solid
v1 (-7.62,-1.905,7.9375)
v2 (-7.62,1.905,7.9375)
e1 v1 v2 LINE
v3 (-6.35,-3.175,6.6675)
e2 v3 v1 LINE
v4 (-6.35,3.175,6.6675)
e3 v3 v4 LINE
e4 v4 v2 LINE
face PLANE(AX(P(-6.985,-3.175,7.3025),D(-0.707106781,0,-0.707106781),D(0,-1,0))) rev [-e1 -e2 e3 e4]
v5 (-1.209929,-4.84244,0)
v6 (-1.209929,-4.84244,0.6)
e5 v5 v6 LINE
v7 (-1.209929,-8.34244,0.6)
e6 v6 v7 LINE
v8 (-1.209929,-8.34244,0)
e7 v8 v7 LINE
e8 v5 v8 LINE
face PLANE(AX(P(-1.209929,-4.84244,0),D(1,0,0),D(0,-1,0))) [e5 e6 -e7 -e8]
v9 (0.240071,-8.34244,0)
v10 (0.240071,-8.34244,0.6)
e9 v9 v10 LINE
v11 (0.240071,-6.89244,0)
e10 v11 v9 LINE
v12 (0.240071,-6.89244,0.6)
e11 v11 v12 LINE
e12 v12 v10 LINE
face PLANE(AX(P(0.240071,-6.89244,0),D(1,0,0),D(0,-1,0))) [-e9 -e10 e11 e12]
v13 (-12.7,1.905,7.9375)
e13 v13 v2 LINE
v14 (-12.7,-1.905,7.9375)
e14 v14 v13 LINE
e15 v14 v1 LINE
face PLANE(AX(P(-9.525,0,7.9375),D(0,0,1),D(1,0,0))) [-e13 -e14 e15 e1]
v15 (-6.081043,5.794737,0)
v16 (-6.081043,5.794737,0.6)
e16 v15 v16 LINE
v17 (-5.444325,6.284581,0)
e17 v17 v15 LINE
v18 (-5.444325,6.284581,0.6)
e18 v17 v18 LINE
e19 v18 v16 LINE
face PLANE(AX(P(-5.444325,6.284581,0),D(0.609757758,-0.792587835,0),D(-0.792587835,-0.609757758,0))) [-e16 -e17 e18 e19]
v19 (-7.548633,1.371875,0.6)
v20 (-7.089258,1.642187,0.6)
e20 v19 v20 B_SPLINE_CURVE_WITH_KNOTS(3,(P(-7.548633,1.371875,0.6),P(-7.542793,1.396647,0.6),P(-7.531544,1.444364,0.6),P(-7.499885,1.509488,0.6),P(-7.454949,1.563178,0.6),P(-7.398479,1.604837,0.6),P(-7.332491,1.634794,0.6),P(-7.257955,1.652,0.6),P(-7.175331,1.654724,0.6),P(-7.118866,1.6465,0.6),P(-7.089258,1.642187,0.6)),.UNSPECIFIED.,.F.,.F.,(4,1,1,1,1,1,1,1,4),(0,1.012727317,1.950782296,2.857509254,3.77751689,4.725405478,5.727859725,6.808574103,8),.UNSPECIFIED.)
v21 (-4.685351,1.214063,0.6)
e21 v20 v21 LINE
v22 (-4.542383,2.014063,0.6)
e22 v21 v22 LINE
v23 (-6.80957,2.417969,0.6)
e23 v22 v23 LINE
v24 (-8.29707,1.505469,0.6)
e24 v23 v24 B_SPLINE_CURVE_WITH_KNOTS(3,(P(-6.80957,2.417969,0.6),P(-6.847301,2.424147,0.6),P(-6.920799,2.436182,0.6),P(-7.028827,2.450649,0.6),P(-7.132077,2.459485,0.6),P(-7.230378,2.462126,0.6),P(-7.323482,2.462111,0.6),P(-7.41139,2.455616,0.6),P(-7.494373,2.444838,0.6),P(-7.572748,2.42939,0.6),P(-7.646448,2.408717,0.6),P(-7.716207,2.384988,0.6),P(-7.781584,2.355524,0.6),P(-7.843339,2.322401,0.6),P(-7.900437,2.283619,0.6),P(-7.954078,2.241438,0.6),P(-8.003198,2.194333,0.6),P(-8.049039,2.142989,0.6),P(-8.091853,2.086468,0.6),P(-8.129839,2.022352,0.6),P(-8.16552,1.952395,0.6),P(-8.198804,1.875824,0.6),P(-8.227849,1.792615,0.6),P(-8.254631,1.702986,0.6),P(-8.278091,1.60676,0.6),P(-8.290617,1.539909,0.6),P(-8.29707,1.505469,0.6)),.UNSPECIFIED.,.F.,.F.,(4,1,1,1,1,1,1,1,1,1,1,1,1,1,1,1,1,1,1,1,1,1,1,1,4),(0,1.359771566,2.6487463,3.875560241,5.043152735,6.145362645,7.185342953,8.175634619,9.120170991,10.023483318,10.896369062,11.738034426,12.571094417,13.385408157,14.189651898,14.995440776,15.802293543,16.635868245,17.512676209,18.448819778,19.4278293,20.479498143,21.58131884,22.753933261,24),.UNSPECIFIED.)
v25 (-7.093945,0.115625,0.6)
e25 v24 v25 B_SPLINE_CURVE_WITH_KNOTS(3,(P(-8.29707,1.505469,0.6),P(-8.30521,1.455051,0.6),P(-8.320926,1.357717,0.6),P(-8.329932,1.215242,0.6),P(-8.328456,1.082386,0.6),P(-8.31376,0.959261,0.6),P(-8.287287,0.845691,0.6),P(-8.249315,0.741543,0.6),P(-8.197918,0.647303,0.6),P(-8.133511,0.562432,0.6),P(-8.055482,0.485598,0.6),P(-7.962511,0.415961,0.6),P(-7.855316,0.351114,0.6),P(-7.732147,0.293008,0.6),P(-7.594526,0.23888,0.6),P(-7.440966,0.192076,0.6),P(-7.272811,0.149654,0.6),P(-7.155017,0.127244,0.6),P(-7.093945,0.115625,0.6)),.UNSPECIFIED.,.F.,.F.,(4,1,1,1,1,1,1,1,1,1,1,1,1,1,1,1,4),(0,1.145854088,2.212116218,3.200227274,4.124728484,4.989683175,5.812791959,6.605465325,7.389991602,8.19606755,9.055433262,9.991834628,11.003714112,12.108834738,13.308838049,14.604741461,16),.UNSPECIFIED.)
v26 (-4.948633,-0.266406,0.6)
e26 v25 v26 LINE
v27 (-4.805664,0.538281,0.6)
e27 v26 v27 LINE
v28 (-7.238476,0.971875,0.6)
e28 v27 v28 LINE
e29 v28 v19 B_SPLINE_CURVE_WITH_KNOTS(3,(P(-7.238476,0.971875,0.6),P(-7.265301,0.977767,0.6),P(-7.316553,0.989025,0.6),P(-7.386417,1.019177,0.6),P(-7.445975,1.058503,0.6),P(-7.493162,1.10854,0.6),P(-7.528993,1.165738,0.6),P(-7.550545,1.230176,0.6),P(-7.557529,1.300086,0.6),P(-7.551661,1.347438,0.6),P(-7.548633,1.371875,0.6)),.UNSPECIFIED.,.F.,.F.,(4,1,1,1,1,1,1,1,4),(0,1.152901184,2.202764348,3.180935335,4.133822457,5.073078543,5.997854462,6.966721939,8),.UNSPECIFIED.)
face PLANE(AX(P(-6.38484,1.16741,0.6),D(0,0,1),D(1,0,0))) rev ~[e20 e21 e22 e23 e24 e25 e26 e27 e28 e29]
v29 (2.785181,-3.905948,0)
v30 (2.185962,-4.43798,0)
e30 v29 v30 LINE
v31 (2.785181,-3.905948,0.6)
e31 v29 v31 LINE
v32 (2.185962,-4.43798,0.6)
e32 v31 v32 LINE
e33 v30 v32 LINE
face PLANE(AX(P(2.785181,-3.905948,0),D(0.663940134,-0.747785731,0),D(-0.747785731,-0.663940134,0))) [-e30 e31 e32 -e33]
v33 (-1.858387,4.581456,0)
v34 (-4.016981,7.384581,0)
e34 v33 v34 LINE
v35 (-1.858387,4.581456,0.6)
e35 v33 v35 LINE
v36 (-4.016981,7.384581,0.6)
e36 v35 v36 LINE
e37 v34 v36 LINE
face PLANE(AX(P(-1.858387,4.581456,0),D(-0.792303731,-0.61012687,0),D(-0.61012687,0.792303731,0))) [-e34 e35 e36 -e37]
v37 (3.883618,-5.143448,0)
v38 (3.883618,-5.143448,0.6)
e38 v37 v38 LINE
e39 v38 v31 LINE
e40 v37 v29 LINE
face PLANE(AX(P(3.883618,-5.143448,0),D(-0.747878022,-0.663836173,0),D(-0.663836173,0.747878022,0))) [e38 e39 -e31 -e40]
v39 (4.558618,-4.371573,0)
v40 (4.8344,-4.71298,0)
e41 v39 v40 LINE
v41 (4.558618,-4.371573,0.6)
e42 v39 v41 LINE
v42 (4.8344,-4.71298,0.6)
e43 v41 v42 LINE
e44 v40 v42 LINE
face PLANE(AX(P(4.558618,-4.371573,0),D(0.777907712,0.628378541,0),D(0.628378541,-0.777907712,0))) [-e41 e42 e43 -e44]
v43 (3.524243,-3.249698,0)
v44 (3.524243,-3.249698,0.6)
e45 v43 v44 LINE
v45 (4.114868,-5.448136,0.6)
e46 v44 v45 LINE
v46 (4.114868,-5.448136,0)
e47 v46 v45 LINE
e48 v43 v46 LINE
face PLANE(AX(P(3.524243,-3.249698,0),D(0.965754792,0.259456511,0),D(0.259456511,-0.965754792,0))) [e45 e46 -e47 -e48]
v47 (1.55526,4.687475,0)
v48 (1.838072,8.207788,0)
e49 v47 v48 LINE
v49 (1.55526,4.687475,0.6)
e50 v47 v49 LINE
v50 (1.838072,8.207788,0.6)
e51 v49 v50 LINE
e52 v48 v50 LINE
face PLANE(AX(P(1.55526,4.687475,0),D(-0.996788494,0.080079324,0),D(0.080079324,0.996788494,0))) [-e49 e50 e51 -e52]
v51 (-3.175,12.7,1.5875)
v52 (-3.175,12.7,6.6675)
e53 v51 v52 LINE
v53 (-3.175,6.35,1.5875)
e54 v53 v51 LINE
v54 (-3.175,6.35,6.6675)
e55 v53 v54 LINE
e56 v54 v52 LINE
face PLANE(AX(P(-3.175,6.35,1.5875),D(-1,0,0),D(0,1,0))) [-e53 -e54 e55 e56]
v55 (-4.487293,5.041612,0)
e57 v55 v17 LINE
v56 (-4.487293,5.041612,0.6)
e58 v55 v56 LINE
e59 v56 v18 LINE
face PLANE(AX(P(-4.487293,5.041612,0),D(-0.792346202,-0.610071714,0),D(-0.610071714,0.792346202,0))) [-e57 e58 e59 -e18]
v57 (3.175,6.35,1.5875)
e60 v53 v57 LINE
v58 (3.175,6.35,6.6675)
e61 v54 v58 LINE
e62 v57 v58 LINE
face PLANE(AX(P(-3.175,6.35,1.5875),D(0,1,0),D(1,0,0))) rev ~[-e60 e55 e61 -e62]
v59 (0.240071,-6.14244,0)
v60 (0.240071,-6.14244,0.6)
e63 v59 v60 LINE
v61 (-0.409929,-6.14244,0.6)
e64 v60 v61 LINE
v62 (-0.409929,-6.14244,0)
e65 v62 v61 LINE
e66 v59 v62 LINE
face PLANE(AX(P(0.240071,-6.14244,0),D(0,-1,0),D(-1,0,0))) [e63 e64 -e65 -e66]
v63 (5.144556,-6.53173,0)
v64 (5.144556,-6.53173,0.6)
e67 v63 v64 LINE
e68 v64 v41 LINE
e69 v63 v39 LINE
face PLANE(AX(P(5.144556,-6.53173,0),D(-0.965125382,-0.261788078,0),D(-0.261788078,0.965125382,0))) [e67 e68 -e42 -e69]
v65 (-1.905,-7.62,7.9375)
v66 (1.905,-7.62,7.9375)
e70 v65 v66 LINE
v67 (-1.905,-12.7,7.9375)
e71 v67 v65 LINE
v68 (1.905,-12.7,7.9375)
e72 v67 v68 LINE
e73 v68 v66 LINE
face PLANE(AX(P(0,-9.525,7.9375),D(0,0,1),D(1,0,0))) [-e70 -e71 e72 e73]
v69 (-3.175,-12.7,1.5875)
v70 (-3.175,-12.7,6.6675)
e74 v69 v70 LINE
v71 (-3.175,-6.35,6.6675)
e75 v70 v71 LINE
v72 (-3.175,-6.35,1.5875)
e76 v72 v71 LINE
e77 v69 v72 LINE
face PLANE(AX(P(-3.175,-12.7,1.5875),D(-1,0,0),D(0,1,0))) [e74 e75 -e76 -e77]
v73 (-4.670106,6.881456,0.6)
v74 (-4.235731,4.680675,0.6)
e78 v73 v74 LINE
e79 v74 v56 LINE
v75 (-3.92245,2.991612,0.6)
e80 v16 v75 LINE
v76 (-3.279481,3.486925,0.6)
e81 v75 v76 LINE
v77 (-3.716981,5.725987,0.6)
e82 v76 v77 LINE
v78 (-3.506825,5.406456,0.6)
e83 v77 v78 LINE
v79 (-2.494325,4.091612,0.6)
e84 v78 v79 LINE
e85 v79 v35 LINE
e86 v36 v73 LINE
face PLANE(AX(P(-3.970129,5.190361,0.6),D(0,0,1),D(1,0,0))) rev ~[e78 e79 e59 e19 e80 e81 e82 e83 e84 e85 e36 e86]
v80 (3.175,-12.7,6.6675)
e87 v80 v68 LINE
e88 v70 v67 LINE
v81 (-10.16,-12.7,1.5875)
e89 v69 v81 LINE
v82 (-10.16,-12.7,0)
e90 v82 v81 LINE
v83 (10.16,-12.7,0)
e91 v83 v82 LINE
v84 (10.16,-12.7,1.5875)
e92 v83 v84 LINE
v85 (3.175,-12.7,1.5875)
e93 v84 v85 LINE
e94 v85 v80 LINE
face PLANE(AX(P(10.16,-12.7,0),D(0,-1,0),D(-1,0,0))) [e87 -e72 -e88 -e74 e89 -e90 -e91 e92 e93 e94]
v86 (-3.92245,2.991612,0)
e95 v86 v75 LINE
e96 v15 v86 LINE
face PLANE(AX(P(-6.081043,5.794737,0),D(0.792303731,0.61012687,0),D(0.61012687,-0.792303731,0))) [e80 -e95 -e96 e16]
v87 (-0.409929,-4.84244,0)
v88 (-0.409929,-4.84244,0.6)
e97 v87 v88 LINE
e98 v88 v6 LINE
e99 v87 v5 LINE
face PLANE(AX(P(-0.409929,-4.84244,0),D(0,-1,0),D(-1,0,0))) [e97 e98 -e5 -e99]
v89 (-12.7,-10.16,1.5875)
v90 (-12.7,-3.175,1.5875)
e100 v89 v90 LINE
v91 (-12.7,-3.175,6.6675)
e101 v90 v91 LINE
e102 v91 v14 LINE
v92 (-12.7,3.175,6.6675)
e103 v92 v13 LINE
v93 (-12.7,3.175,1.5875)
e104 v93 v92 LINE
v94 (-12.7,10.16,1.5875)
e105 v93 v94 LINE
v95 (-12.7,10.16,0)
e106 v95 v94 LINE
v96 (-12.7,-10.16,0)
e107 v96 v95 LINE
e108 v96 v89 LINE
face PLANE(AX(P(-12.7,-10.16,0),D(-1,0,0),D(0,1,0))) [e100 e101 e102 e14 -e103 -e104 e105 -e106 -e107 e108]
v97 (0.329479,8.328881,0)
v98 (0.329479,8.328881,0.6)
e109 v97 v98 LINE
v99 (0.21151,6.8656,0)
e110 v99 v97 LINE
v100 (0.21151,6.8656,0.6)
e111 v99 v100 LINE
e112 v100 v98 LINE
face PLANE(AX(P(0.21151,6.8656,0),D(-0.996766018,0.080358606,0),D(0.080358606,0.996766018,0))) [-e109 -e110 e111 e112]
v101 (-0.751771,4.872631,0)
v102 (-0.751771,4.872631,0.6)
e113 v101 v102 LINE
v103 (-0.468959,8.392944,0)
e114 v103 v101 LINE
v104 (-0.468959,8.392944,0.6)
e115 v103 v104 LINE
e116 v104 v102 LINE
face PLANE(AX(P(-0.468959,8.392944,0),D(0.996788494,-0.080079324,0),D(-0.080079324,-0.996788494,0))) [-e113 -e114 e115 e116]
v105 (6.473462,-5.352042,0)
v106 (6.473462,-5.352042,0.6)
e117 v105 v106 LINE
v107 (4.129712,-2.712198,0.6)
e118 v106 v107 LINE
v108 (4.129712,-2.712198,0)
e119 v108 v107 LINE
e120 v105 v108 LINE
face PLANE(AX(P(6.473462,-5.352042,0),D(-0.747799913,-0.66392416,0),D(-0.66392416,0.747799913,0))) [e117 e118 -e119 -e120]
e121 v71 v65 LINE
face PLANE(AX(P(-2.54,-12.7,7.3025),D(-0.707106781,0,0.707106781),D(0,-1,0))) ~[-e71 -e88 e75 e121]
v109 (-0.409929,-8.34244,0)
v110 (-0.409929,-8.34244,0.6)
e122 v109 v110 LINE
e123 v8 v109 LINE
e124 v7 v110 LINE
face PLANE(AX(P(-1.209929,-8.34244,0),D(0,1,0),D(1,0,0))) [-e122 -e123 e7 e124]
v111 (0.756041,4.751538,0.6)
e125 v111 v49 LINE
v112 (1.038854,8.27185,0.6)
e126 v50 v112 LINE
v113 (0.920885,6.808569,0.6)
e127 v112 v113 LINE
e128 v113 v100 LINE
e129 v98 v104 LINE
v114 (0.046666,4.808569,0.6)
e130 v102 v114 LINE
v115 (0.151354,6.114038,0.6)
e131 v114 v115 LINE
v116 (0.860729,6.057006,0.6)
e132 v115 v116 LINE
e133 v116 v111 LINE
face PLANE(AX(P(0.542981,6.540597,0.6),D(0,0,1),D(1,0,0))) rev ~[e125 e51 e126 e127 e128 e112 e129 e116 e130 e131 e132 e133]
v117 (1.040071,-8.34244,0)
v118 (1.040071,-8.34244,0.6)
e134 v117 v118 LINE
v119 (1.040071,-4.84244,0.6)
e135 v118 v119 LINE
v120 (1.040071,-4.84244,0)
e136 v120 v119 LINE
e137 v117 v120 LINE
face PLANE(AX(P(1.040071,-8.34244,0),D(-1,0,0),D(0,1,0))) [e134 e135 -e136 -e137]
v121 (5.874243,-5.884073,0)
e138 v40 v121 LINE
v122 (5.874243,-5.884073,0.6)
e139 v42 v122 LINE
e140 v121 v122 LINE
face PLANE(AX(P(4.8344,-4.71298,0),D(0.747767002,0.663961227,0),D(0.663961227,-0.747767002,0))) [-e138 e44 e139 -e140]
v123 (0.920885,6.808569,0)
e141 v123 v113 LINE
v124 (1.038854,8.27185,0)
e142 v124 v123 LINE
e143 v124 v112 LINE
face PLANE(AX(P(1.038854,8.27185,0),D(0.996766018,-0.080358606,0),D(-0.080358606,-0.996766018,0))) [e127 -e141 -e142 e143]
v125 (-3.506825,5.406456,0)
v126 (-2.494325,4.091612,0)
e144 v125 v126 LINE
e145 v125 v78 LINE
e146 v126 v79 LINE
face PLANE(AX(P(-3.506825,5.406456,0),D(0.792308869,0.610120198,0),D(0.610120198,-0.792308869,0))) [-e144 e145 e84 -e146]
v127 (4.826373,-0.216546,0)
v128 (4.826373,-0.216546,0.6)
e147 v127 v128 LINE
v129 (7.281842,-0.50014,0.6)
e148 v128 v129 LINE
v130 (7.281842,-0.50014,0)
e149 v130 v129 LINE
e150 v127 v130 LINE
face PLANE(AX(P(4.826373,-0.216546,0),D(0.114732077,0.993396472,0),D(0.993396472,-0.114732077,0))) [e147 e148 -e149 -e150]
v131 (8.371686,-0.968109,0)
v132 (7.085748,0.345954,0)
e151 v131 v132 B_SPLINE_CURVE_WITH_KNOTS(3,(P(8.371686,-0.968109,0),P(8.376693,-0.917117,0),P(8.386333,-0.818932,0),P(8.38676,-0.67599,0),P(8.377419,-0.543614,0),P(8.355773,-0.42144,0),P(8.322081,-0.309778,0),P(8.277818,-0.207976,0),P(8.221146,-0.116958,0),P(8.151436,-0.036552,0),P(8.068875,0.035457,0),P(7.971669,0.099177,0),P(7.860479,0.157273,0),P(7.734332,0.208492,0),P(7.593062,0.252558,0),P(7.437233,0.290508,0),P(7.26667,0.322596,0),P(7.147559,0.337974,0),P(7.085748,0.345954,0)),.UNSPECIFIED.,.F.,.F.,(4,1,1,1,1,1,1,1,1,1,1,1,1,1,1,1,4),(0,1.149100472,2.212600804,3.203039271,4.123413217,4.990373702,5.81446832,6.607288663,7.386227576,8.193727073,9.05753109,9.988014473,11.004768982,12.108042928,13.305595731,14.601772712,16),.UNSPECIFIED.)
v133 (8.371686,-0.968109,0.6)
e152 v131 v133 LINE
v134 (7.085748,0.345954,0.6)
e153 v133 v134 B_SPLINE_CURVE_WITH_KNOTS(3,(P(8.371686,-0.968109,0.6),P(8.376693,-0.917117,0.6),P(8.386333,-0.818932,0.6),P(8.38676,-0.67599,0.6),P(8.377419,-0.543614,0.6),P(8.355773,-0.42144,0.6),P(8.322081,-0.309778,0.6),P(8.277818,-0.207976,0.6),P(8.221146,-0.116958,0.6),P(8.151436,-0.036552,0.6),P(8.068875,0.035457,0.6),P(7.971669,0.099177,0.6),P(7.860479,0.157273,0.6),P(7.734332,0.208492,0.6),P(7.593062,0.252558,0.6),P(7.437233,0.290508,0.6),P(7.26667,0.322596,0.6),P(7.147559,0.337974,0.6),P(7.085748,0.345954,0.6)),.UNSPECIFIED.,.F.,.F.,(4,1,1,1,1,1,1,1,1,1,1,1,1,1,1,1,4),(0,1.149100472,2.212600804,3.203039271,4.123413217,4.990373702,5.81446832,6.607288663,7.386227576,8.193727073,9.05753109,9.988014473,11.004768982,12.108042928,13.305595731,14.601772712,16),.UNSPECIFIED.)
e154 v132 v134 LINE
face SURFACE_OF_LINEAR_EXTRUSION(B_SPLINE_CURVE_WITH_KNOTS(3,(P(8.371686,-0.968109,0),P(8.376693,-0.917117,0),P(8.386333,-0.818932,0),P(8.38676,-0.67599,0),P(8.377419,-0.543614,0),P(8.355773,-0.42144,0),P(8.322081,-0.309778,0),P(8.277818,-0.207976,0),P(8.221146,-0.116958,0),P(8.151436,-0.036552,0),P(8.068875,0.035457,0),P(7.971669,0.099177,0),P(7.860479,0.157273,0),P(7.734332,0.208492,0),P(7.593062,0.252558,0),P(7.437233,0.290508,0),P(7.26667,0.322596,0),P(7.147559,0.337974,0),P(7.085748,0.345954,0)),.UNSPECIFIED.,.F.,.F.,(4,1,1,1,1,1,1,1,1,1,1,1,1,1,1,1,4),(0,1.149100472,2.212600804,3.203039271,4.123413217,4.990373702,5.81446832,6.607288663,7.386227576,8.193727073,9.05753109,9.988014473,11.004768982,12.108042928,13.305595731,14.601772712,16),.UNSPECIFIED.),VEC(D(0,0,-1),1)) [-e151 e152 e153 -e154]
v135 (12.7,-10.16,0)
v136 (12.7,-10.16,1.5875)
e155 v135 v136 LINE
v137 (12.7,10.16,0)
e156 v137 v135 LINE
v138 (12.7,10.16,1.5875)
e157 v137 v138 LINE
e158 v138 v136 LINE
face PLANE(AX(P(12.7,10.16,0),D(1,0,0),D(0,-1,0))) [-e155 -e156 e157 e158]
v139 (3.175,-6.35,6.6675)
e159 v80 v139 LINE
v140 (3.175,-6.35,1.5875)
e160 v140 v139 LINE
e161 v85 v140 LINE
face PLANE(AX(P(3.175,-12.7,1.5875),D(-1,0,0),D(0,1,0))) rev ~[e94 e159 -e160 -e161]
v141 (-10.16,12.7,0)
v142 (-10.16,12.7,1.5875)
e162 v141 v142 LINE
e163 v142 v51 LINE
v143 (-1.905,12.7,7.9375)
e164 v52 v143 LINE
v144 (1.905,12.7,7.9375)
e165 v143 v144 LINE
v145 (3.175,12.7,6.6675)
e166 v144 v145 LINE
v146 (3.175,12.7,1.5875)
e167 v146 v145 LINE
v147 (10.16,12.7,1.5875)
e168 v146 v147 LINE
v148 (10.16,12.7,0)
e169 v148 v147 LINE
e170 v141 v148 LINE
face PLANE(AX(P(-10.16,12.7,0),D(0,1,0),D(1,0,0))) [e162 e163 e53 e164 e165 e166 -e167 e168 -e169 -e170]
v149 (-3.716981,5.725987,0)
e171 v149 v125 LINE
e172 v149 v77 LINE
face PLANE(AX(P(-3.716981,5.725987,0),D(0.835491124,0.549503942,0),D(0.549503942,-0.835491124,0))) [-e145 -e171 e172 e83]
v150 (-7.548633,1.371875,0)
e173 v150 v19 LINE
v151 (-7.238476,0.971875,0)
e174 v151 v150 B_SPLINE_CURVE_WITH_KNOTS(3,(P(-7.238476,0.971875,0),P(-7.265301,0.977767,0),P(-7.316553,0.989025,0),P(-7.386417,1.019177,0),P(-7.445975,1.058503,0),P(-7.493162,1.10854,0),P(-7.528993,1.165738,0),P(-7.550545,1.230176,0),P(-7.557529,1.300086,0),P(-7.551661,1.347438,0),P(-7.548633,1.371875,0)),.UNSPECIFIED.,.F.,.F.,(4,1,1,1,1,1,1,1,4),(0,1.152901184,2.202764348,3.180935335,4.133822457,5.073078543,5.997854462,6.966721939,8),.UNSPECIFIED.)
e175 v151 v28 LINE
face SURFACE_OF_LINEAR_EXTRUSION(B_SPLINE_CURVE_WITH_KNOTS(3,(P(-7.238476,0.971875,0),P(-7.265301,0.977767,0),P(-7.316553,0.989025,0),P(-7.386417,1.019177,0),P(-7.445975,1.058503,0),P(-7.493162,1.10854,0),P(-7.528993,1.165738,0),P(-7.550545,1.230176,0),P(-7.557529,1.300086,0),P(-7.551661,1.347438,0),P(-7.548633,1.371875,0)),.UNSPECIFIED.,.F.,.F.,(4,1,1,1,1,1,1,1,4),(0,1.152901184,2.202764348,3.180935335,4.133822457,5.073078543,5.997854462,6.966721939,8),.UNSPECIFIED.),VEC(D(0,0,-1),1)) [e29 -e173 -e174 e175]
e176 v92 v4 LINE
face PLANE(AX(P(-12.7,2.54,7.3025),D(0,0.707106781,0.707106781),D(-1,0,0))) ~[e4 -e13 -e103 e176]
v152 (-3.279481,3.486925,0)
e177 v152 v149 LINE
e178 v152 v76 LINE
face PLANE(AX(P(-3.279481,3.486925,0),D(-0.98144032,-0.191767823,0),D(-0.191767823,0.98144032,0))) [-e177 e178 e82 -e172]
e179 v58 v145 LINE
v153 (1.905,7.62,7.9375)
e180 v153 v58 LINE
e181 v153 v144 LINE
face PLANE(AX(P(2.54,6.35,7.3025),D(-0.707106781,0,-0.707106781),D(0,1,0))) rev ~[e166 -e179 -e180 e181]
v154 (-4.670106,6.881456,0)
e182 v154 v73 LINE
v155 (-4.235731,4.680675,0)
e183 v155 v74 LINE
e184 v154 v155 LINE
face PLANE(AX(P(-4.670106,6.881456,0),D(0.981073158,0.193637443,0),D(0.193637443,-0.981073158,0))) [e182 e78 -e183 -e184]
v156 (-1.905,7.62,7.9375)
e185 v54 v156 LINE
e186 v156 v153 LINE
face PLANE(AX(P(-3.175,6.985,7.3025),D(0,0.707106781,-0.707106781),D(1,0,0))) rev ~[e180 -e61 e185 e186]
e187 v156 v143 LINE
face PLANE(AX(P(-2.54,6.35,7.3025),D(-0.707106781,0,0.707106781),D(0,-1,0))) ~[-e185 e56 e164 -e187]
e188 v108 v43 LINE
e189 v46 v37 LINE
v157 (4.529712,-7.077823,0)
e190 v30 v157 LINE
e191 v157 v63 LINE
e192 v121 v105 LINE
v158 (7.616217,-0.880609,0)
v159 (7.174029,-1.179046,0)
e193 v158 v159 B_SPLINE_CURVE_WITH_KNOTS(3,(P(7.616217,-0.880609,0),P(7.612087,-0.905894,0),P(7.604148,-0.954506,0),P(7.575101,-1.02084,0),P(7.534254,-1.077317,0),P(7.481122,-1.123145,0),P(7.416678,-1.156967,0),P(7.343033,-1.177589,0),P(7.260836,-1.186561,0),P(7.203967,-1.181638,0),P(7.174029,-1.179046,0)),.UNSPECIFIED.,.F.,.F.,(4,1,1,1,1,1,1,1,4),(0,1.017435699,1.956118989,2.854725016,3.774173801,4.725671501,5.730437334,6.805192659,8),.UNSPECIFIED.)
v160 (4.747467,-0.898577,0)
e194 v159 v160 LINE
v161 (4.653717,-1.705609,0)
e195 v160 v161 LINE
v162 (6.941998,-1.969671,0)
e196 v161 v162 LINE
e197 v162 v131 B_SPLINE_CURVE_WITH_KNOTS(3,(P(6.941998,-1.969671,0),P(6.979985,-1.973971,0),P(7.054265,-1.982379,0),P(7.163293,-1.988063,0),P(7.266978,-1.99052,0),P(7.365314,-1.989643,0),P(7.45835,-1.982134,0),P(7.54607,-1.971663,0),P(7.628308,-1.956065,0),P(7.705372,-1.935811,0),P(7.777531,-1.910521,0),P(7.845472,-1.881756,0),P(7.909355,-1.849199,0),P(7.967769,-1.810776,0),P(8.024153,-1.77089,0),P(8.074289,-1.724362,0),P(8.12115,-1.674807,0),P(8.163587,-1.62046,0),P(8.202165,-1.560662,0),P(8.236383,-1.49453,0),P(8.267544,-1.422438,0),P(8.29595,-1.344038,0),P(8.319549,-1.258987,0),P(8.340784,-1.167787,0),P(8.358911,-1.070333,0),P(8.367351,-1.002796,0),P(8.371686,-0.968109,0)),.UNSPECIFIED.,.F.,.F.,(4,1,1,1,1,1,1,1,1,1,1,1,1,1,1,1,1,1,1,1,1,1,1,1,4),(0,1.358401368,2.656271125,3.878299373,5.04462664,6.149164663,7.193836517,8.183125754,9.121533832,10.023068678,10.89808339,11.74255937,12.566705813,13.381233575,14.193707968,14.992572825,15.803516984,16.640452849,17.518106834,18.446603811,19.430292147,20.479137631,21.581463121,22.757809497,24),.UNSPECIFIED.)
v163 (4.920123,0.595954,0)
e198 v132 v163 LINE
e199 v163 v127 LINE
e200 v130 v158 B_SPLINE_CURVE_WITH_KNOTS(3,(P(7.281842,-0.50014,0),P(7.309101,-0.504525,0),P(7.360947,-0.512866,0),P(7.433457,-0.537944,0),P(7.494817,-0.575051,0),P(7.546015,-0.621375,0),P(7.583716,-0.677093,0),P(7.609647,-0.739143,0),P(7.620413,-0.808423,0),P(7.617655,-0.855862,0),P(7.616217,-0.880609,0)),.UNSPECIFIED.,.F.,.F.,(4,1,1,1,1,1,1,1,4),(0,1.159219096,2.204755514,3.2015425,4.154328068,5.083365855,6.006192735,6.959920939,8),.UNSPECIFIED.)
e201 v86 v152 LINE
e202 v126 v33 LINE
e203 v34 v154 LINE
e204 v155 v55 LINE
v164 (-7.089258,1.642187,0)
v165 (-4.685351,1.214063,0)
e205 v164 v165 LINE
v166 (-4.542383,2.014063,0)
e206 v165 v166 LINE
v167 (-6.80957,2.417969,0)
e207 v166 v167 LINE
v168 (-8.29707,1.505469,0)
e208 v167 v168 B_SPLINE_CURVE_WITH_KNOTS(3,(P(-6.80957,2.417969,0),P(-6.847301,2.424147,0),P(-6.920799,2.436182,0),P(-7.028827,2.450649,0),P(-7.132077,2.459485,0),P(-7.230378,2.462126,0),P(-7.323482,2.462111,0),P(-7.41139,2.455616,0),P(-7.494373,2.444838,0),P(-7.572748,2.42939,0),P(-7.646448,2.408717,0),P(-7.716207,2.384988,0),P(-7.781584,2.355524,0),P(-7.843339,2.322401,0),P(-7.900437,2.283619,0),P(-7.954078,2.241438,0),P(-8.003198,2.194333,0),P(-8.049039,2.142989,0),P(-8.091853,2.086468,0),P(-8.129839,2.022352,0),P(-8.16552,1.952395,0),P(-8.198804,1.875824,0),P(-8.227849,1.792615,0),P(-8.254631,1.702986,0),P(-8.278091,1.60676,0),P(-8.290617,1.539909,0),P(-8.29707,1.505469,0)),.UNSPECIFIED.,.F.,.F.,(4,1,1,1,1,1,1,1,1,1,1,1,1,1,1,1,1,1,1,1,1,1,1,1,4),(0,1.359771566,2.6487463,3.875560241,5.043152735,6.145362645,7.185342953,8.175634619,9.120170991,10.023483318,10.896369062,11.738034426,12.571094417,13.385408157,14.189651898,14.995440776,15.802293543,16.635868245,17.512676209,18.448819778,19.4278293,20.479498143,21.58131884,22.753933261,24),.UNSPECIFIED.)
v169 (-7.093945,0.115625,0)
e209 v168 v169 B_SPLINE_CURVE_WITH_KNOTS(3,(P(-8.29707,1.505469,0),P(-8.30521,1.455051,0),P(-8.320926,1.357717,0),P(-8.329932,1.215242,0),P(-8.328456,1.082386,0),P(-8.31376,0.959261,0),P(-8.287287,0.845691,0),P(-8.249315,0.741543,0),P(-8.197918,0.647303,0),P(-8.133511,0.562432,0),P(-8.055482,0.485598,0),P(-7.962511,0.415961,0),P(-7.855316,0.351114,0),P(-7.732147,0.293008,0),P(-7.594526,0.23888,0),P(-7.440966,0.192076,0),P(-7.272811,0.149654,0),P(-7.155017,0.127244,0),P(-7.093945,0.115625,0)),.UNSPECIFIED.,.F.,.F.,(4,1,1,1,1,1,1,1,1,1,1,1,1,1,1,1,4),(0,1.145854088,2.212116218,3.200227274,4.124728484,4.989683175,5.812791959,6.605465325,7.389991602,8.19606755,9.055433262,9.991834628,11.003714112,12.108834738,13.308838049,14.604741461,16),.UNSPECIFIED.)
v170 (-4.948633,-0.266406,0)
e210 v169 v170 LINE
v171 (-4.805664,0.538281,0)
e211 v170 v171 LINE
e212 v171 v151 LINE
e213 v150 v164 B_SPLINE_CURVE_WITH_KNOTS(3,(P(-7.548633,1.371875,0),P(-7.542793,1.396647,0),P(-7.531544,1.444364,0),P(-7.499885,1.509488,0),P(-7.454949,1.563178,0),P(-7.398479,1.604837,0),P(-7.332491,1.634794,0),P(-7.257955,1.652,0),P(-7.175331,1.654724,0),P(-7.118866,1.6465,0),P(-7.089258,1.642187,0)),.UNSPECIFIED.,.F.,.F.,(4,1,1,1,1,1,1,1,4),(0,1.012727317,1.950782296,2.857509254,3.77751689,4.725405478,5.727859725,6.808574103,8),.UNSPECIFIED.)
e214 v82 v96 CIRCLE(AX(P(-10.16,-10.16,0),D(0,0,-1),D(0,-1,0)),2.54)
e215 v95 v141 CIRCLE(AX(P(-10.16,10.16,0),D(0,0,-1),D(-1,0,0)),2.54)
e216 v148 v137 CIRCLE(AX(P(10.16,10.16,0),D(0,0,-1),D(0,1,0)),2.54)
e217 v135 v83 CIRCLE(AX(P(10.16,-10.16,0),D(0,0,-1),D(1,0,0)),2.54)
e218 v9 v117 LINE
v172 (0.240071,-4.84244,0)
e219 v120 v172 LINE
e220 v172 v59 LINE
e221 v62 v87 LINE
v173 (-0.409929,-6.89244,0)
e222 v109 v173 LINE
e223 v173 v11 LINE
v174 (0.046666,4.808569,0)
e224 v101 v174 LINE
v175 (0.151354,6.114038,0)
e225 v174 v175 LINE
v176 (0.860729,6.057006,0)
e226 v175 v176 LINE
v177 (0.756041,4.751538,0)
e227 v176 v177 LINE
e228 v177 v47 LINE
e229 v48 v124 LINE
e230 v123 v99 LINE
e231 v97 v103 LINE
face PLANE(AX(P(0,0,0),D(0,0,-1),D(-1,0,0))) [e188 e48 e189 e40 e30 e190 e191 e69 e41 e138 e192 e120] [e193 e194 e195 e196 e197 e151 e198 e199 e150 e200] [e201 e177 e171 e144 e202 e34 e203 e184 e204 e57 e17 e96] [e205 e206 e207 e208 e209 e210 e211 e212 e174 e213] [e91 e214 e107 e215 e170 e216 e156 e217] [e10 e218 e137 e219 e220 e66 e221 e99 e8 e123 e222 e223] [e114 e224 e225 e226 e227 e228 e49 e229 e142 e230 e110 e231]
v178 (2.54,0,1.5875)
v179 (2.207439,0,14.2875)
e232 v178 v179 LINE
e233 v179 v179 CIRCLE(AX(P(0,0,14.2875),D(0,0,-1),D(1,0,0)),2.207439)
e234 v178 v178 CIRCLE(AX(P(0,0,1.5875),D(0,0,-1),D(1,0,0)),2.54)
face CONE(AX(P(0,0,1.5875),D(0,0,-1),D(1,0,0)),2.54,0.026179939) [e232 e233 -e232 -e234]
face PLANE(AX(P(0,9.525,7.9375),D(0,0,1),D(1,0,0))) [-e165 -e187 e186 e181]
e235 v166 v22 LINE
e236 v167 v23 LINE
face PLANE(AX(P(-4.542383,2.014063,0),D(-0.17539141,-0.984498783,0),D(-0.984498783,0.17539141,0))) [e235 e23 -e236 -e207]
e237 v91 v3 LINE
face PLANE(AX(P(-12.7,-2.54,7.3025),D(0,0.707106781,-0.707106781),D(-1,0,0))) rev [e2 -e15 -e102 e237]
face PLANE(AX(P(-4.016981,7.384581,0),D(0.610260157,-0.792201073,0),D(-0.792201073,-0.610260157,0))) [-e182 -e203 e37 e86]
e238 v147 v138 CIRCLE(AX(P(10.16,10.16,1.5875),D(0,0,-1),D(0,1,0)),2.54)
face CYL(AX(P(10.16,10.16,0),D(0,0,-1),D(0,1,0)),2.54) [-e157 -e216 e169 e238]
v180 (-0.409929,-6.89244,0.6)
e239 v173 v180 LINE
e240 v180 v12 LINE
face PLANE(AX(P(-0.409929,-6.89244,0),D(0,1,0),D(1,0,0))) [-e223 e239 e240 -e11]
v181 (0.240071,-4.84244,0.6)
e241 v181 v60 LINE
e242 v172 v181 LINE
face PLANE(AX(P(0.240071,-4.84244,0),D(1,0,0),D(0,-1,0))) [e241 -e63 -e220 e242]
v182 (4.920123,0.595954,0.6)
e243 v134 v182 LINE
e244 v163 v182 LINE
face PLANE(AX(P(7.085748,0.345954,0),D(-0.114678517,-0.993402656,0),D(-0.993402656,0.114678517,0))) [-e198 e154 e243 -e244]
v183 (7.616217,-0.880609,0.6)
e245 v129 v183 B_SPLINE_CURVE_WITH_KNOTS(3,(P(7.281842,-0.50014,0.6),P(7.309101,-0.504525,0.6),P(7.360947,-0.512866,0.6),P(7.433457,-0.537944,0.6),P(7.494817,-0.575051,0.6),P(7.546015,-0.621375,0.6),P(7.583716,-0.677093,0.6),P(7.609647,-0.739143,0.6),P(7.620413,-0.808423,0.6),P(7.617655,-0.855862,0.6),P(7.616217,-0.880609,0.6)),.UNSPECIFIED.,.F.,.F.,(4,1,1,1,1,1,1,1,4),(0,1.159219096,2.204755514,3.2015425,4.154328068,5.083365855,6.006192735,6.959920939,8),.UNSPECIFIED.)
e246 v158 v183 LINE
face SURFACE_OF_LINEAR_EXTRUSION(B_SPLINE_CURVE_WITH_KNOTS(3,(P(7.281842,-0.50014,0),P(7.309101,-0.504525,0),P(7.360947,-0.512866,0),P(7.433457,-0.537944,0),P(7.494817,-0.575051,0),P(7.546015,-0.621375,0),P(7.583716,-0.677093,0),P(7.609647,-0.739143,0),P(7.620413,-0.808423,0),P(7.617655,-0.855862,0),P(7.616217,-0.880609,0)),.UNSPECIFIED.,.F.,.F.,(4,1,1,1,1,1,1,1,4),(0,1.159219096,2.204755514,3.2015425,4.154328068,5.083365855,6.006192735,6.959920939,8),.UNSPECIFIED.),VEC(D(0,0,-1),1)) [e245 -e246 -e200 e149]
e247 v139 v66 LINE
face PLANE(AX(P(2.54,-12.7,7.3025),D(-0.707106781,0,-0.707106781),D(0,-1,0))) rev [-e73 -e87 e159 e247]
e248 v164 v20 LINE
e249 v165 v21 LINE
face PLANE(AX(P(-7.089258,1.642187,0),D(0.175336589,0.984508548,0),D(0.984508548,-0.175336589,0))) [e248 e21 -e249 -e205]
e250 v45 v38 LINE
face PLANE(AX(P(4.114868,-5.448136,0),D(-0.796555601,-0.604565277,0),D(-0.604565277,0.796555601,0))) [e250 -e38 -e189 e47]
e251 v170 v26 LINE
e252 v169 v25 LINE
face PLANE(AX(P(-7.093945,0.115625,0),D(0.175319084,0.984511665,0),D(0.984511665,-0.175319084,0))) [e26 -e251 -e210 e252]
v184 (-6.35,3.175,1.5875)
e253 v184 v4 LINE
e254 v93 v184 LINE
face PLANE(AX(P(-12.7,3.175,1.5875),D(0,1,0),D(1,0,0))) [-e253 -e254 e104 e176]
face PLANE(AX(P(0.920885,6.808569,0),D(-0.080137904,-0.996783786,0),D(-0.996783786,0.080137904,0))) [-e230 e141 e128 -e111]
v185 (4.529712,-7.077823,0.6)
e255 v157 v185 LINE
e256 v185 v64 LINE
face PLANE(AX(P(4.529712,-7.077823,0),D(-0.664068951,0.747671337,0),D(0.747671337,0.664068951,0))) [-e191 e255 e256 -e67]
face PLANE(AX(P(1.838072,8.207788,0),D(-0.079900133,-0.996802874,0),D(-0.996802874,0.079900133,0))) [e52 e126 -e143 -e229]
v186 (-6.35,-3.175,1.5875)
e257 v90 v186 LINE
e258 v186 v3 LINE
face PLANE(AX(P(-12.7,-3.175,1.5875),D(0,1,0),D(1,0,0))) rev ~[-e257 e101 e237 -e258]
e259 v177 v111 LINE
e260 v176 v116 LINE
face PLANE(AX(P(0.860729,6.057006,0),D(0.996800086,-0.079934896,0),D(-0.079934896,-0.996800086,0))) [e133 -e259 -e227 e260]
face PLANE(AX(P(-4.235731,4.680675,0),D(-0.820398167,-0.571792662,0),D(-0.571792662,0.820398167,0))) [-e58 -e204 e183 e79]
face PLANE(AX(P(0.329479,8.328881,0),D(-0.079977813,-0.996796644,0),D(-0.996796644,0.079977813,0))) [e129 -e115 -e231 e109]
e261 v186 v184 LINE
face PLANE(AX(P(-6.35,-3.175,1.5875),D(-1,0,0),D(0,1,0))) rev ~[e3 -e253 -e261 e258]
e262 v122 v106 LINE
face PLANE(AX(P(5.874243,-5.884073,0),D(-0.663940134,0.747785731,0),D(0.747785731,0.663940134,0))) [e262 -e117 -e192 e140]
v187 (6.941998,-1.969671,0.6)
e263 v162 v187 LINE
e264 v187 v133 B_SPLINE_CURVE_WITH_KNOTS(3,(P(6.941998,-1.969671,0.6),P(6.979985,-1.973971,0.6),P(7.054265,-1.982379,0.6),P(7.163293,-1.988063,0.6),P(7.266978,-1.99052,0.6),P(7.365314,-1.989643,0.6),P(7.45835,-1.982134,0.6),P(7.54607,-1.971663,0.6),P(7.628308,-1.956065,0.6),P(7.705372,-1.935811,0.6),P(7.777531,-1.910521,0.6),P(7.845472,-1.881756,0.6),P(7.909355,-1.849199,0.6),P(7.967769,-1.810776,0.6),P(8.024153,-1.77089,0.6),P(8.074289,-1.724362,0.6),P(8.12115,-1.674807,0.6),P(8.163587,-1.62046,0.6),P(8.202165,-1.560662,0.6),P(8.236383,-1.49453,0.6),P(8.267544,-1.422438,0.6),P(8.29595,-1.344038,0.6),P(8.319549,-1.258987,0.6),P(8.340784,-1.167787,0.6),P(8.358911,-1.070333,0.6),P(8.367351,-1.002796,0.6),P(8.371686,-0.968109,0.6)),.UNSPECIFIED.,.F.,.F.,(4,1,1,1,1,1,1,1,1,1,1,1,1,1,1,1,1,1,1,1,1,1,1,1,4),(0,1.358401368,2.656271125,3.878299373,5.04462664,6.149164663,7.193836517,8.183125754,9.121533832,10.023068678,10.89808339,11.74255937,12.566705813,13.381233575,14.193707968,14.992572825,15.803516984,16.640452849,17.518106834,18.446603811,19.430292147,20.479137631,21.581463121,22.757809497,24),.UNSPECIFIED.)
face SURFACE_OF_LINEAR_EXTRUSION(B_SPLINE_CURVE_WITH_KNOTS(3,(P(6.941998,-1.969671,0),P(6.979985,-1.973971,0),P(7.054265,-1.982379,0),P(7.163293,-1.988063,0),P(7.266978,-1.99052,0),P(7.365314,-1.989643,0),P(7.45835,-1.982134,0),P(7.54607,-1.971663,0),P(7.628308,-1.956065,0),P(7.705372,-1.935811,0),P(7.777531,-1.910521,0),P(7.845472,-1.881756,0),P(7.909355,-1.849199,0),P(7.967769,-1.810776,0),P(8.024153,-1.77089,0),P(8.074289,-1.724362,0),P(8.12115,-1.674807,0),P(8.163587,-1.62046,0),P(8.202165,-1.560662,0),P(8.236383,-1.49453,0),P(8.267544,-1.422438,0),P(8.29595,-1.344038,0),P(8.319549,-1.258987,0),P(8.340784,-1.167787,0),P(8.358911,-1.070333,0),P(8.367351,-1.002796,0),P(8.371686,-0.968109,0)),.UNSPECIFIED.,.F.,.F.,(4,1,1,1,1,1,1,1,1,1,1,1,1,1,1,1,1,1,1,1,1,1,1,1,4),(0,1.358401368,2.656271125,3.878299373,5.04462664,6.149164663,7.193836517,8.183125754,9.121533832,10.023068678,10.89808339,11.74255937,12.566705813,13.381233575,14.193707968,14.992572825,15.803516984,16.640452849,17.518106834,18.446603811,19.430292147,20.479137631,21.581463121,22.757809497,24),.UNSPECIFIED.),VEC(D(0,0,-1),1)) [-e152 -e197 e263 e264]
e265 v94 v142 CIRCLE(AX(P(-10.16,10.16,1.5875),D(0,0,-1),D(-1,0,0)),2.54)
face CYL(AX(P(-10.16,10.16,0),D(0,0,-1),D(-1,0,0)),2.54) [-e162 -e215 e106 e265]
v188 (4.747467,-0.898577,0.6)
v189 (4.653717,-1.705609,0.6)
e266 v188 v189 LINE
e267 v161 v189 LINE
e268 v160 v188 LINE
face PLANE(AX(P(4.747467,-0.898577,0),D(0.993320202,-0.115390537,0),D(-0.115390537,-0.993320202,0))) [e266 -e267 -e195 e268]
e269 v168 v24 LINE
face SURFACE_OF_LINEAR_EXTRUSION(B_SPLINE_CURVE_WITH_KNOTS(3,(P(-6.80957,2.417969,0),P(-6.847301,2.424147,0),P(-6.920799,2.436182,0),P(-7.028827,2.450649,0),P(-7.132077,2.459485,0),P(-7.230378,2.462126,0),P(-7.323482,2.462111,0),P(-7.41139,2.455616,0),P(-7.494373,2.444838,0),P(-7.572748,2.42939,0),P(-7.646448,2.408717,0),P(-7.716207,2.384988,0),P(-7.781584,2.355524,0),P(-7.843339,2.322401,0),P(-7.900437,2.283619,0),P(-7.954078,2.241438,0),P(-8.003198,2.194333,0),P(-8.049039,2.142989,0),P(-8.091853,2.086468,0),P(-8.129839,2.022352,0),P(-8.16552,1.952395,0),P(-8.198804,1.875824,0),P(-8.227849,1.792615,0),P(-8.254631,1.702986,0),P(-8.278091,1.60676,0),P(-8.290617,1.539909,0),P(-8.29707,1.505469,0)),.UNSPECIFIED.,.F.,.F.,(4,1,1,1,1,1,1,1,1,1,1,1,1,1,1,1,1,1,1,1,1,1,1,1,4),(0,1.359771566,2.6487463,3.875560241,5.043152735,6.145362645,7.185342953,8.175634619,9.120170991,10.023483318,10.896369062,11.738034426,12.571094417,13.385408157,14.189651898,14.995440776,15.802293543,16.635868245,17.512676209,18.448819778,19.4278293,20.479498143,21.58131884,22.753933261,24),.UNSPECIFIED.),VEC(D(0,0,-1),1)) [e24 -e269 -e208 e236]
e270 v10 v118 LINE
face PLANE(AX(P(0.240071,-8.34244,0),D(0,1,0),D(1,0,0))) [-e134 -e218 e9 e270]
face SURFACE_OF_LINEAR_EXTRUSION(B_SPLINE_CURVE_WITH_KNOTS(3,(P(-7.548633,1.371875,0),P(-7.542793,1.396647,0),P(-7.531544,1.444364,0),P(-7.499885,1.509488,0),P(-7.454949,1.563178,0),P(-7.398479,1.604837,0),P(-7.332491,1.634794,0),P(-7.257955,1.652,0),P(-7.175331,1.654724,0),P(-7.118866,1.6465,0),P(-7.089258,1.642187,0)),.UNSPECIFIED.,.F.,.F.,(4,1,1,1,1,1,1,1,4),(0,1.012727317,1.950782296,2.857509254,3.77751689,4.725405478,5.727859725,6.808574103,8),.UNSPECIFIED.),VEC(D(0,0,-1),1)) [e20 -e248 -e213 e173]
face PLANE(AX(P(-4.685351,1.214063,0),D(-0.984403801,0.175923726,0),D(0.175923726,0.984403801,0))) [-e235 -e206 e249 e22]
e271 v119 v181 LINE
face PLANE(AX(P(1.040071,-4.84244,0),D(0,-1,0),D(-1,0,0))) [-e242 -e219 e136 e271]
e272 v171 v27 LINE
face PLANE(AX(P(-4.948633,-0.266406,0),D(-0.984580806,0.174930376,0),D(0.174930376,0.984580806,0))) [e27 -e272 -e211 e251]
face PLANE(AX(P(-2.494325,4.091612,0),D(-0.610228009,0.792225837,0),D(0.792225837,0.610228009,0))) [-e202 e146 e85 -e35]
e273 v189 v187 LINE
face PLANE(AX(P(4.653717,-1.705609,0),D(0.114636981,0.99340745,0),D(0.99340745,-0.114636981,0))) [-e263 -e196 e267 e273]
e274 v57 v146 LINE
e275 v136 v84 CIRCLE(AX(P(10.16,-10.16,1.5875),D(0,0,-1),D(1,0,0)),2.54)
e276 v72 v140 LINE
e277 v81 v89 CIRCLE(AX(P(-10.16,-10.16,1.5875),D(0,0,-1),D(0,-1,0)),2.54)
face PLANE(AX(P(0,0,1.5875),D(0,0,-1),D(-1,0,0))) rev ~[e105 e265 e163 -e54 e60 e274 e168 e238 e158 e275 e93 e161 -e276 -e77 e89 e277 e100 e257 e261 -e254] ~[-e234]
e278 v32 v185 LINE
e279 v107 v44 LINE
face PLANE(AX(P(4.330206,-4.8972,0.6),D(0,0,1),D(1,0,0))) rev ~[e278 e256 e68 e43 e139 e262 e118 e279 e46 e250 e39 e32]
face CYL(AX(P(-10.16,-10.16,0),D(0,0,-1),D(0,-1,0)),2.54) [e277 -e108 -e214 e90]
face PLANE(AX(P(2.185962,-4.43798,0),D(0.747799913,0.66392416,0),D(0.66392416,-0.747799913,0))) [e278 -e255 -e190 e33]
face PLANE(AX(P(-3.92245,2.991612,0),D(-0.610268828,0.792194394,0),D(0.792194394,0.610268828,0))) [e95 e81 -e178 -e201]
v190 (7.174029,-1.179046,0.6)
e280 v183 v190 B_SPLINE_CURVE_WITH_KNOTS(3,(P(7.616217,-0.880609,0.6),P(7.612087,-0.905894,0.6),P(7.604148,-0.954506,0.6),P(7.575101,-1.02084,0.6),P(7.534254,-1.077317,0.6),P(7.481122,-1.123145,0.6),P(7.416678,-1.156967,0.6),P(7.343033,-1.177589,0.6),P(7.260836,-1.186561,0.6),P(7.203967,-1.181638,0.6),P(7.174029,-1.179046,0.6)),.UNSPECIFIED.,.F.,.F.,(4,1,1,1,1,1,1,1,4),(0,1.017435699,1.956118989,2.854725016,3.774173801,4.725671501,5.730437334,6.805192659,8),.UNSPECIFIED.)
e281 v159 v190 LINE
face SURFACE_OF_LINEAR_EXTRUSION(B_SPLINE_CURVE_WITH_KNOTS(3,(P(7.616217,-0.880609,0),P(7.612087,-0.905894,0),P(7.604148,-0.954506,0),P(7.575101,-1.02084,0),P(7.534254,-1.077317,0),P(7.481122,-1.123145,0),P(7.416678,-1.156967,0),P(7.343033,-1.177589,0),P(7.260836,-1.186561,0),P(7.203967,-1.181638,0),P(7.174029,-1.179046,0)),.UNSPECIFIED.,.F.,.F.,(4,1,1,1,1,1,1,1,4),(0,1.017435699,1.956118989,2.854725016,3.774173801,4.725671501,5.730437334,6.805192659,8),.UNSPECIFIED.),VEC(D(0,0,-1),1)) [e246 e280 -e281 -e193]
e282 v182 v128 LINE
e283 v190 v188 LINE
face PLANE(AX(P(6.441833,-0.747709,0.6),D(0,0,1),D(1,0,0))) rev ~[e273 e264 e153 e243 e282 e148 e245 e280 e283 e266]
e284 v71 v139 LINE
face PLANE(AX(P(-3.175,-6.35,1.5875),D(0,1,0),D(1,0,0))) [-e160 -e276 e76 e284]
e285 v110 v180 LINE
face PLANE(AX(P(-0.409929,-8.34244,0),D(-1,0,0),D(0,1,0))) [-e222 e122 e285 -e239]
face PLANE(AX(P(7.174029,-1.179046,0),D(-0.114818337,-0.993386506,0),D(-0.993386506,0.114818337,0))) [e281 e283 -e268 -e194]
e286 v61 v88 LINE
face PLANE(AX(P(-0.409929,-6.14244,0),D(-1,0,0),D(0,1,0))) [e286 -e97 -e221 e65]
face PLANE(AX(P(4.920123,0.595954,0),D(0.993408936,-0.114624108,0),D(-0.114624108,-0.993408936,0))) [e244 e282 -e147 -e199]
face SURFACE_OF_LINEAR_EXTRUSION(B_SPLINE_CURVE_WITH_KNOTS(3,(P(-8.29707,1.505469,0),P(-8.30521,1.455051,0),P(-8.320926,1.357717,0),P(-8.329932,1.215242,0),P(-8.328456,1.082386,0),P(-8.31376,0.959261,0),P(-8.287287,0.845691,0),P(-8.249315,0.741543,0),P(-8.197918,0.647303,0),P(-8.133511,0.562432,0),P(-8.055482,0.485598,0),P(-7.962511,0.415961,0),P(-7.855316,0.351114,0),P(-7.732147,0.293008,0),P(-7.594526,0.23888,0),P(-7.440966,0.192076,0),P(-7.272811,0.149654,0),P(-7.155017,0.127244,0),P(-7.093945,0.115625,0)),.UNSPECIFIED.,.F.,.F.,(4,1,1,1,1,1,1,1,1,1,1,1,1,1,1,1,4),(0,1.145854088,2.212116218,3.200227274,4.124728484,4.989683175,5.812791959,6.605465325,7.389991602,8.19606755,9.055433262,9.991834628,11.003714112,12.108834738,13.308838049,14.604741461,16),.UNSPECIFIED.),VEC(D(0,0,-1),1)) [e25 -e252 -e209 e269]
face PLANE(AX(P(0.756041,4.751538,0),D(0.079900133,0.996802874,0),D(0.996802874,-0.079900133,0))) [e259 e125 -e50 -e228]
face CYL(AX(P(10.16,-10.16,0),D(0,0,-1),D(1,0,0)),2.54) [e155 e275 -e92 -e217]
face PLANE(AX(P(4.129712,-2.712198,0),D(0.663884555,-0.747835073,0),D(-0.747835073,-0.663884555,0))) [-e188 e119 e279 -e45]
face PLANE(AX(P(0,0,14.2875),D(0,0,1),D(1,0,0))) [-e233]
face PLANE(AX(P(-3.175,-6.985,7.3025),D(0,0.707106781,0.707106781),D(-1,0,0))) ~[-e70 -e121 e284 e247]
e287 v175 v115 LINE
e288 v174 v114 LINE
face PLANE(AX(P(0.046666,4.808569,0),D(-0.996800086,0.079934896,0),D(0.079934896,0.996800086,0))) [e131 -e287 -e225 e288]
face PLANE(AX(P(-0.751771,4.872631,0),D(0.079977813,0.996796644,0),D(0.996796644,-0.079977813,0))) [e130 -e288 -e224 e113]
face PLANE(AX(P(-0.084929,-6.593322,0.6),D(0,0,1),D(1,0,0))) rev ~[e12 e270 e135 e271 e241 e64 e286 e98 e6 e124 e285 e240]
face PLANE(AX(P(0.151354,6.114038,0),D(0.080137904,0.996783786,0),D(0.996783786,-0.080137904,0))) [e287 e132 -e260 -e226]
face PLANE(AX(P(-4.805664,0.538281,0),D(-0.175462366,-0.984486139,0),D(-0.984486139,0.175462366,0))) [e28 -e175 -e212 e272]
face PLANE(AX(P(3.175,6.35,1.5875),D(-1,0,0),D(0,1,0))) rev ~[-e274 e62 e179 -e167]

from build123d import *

# Parameters (mm, degrees)
BOSS_EXTRUDE1_DEPTH = 1.5875
SKETCH2_W           = 6.35
SKETCH2_H           = 6.35
BOSS_EXTRUDE3_DEPTH = 6.35
SKETCH2_4_R         = 2.54
BOSS_EXTRUDE4_DEPTH = 12.7
BOSS_EXTRUDE4_TAPER = 1.5
CHAMFER1_SIZE       = 1.27
CUT_EXTRUDE1_DEPTH  = 0.6


with BuildPart() as part:
    # Sketch1 → Boss-Extrude1 (new body)
    with BuildSketch(Plane.XY):
        with BuildLine():
            Line((-10.16, 12.7), (10.16, 12.7))
            ThreePointArc((10.16, 12.7), (11.956051224, 11.956051224), (12.7, 10.16))
            Line((12.7, 10.16), (12.7, -10.16))
            ThreePointArc((12.7, -10.16), (11.956051224, -11.956051224), (10.16, -12.7))
            Line((10.16, -12.7), (-10.16, -12.7))
            ThreePointArc((-10.16, -12.7), (-11.956051224, -11.956051224), (-12.7, -10.16))
            Line((-12.7, -10.16), (-12.7, 10.16))
            ThreePointArc((-12.7, 10.16), (-11.956051224, 11.956051224), (-10.16, 12.7))
        make_face()
    extrude(amount=BOSS_EXTRUDE1_DEPTH)

    # Sketch2 → Boss-Extrude3 (add)
    with BuildSketch(Plane.XY.offset(1.5875)):
        with Locations((0, -9.525)):
            Rectangle(SKETCH2_W, SKETCH2_H)
        with Locations((-9.525, 0)):
            Rectangle(SKETCH2_W, SKETCH2_H)
        with Locations((0, 9.525)):
            Rectangle(SKETCH2_W, SKETCH2_H)
    extrude(amount=BOSS_EXTRUDE3_DEPTH)

    # Sketch2<4> → Boss-Extrude4 (add)
    with BuildSketch(Plane.XY.offset(1.5875)):
        Circle(SKETCH2_4_R)
    extrude(amount=BOSS_EXTRUDE4_DEPTH, taper=BOSS_EXTRUDE4_TAPER)

    # Chamfer1
    chamfer1_edges = [part.edges().sort_by_distance(p)[0] for p in [
        (3.175, -9.525, 7.9375),
        (0, -6.35, 7.9375),
        (-3.175, -9.525, 7.9375),
        (-6.35, 0, 7.9375),
        (-9.525, 3.175, 7.9375),
        (-9.525, -3.175, 7.9375),
        (-3.175, 9.525, 7.9375),
        (0, 6.35, 7.9375),
        (3.175, 9.525, 7.9375),
    ]]
    chamfer(chamfer1_edges, length=CHAMFER1_SIZE)

    # Sketch5 → Cut-Extrude1 (cut)
    with BuildSketch(Plane(origin=(0, 0, 0), x_dir=(-1, 0, 0), z_dir=(0, 0, -1))):
        with BuildLine():
            Line((4.9486325, -0.26640625), (4.80566375, 0.53828125))
            Line((4.80566375, 0.53828125), (7.23847625, 0.971875))
            add(Edge.make_bspline(
                [(7.23847625, 0.971875), (7.265300976, 0.977767208), (7.316553027, 0.98902502), (7.386417313, 1.019177205), (7.445975061, 1.058502989), (7.493162343, 1.108540184), (7.528992616, 1.165738145), (7.550544903, 1.23017609), (7.557529133, 1.300086011), (7.551660972, 1.347437558), (7.5486325, 1.371875)],
                knots=[0, 0, 0, 0, 1.152901184, 2.202764348, 3.180935335, 4.133822457, 5.073078543, 5.997854462, 6.966721939, 8, 8, 8, 8], degree=3))
            add(Edge.make_bspline(
                [(7.5486325, 1.371875), (7.542792734, 1.396646864), (7.531543792, 1.444364066), (7.499884848, 1.509487744), (7.454949308, 1.56317803), (7.398478733, 1.60483656), (7.332490711, 1.634793548), (7.257954774, 1.652000254), (7.175330842, 1.654723907), (7.118865714, 1.646499876), (7.0892575, 1.6421875)],
                knots=[0, 0, 0, 0, 1.012727317, 1.950782296, 2.857509254, 3.77751689, 4.725405478, 5.727859725, 6.808574103, 8, 8, 8, 8], degree=3))
            Line((7.0892575, 1.6421875), (4.68535125, 1.2140625))
            Line((4.68535125, 1.2140625), (4.5423825, 2.0140625))
            Line((4.5423825, 2.0140625), (6.80957, 2.41796875))
            add(Edge.make_bspline(
                [(6.80957, 2.41796875), (6.847301022, 2.424146941), (6.920798591, 2.436181655), (7.028827458, 2.450649053), (7.132077261, 2.459484809), (7.230377946, 2.462125573), (7.323482356, 2.462111249), (7.411390055, 2.455615921), (7.494373236, 2.444838372), (7.572748366, 2.429389837), (7.646448474, 2.408717161), (7.716207008, 2.384988312), (7.781584312, 2.355523785), (7.843339322, 2.322401348), (7.900437373, 2.283618978), (7.954078202, 2.241438319), (8.003198202, 2.194332728), (8.049039105, 2.142989061), (8.091852626, 2.08646838), (8.129838889, 2.022351846), (8.165519605, 1.952395345), (8.198803926, 1.875824466), (8.227849252, 1.79261502), (8.254630893, 1.702985573), (8.278091348, 1.606760444), (8.290616987, 1.539909376), (8.29707, 1.50546875)],
                knots=[0, 0, 0, 0, 1.359771566, 2.6487463, 3.875560241, 5.043152735, 6.145362645, 7.185342953, 8.175634619, 9.120170991, 10.023483318, 10.896369062, 11.738034426, 12.571094417, 13.385408157, 14.189651898, 14.995440776, 15.802293543, 16.635868245, 17.512676209, 18.448819778, 19.4278293, 20.479498143, 21.58131884, 22.753933261, 24, 24, 24, 24], degree=3))
            add(Edge.make_bspline(
                [(8.29707, 1.50546875), (8.305210474, 1.455050803), (8.320925979, 1.357716981), (8.329931619, 1.215241739), (8.328455647, 1.08238611), (8.313760468, 0.959261373), (8.287286964, 0.845690636), (8.249314931, 0.741543137), (8.197917555, 0.647303084), (8.133510725, 0.562431816), (8.055481633, 0.485597873), (7.962511247, 0.415961042), (7.855316021, 0.351113951), (7.732146849, 0.29300798), (7.594525824, 0.238879505), (7.440966494, 0.192076113), (7.272810918, 0.149653692), (7.155016591, 0.127243683), (7.093945, 0.115625)],
                knots=[0, 0, 0, 0, 1.145854088, 2.212116218, 3.200227274, 4.124728484, 4.989683175, 5.812791959, 6.605465325, 7.389991602, 8.19606755, 9.055433262, 9.991834628, 11.003714112, 12.108834738, 13.308838049, 14.604741461, 16, 16, 16, 16], degree=3))
            Line((7.093945, 0.115625), (4.9486325, -0.26640625))
        make_face()
        Polygon((3.922449744, 2.991612413), (3.279480994, 3.486924913), (3.716980994, 5.725987413), (3.506824744, 5.406456163), (2.494324744, 4.091612413), (1.858387244, 4.581456163), (4.016980994, 7.384581163), (4.670105994, 6.881456163), (4.235730994, 4.680674913), (4.487293494, 5.041612413), (5.444324744, 6.284581163), (6.081043494, 5.794737413), align=None)
        Polygon((0.751771392, 4.872631367), (-0.046666108, 4.808568867), (-0.151353608, 6.114037617), (-0.860728608, 6.057006367), (-0.756041108, 4.751537617), (-1.555259858, 4.687475117), (-1.838072358, 8.207787617), (-1.038853608, 8.271850117), (-0.920884858, 6.808568867), (-0.211509858, 6.865600117), (-0.329478608, 8.328881367), (0.468958892, 8.392943867), align=None)
        with BuildLine():
            Line((-4.920123047, 0.595953898), (-4.826373047, -0.216546102))
            Line((-4.826373047, -0.216546102), (-7.281841797, -0.500139852))
            add(Edge.make_bspline(
                [(-7.281841797, -0.500139852), (-7.309101197, -0.504525377), (-7.360946713, -0.512866345), (-7.433457472, -0.537944408), (-7.494816887, -0.575051172), (-7.546014611, -0.621374599), (-7.58371574, -0.677092597), (-7.60964659, -0.739143074), (-7.620413138, -0.808422775), (-7.617655389, -0.855861805), (-7.616216797, -0.880608602)],
                knots=[0, 0, 0, 0, 1.159219096, 2.204755514, 3.2015425, 4.154328068, 5.083365855, 6.006192735, 6.959920939, 8, 8, 8, 8], degree=3))
            add(Edge.make_bspline(
                [(-7.616216797, -0.880608602), (-7.612087451, -0.905893532), (-7.604148383, -0.954506266), (-7.575100674, -1.020839716), (-7.534253977, -1.077316595), (-7.481121861, -1.123145326), (-7.416677768, -1.156966932), (-7.343032738, -1.17758862), (-7.260835581, -1.186561346), (-7.203967434, -1.181637993), (-7.174029297, -1.179046102)],
                knots=[0, 0, 0, 0, 1.017435699, 1.956118989, 2.854725016, 3.774173801, 4.725671501, 5.730437334, 6.805192659, 8, 8, 8, 8], degree=3))
            Line((-7.174029297, -1.179046102), (-4.747466797, -0.898577352))
            Line((-4.747466797, -0.898577352), (-4.653716797, -1.705608602))
            Line((-4.653716797, -1.705608602), (-6.941998047, -1.969671102))
            add(Edge.make_bspline(
                [(-6.941998047, -1.969671102), (-6.979984517, -1.973970995), (-7.054264745, -1.982379176), (-7.163293427, -1.988062587), (-7.26697771, -1.990520486), (-7.365314035, -1.989642819), (-7.458349703, -1.98213365), (-7.546070479, -1.971662701), (-7.628308, -1.956064631), (-7.705372141, -1.935810731), (-7.777531248, -1.910521256), (-7.845471851, -1.881756251), (-7.909354744, -1.849199201), (-7.967768966, -1.810775982), (-8.024153378, -1.77089027), (-8.074289427, -1.724361899), (-8.121150212, -1.674806826), (-8.163586952, -1.620459759), (-8.202165452, -1.560662167), (-8.236382549, -1.494529965), (-8.267543902, -1.42243798), (-8.295950134, -1.344038488), (-8.319549412, -1.258986625), (-8.34078426, -1.167787102), (-8.358911173, -1.070332781), (-8.367350833, -1.002796217), (-8.371685547, -0.968108602)],
                knots=[0, 0, 0, 0, 1.358401368, 2.656271125, 3.878299373, 5.04462664, 6.149164663, 7.193836517, 8.183125754, 9.121533832, 10.023068678, 10.89808339, 11.74255937, 12.566705813, 13.381233575, 14.193707968, 14.992572825, 15.803516984, 16.640452849, 17.518106834, 18.446603811, 19.430292147, 20.479137631, 21.581463121, 22.757809497, 24, 24, 24, 24], degree=3))
            add(Edge.make_bspline(
                [(-8.371685547, -0.968108602), (-8.376692516, -0.917117039), (-8.386333471, -0.818932436), (-8.386759784, -0.675990175), (-8.377418654, -0.543614299), (-8.355773496, -0.421440498), (-8.322080643, -0.309778046), (-8.277818396, -0.20797594), (-8.221146313, -0.116958382), (-8.151436375, -0.036551913), (-8.06887484, 0.035456823), (-7.971669117, 0.099177126), (-7.860478577, 0.157273079), (-7.734332484, 0.208492142), (-7.59306219, 0.252557661), (-7.437233214, 0.290507962), (-7.26667048, 0.322596301), (-7.147559299, 0.337973891), (-7.085748047, 0.345953898)],
                knots=[0, 0, 0, 0, 1.149100472, 2.212600804, 3.203039271, 4.123413217, 4.990373702, 5.81446832, 6.607288663, 7.386227576, 8.193727073, 9.05753109, 9.988014473, 11.004768982, 12.108042928, 13.305595731, 14.601772712, 16, 16, 16, 16], degree=3))
            Line((-7.085748047, 0.345953898), (-4.920123047, 0.595953898))
        make_face()
        Polygon((-4.129712078, -2.712198334), (-3.524243328, -3.249698334), (-4.114868328, -5.448135834), (-3.883618328, -5.143448334), (-2.785180828, -3.905948334), (-2.185962078, -4.437979584), (-4.529712078, -7.077823334), (-5.144555828, -6.531729584), (-4.558618328, -4.371573334), (-4.834399578, -4.712979584), (-5.874243328, -5.884073334), (-6.473462078, -5.352042084), align=None)
        Polygon((-1.040071044, -4.84243991), (-0.240071044, -4.84243991), (-0.240071044, -6.14243991), (0.409928956, -6.14243991), (0.409928956, -4.84243991), (1.209928956, -4.84243991), (1.209928956, -8.34243991), (0.409928956, -8.34243991), (0.409928956, -6.89243991), (-0.240071044, -6.89243991), (-0.240071044, -8.34243991), (-1.040071044, -8.34243991), align=None)
    extrude(amount=-CUT_EXTRUDE1_DEPTH, mode=Mode.SUBTRACT)


solid = part.part
